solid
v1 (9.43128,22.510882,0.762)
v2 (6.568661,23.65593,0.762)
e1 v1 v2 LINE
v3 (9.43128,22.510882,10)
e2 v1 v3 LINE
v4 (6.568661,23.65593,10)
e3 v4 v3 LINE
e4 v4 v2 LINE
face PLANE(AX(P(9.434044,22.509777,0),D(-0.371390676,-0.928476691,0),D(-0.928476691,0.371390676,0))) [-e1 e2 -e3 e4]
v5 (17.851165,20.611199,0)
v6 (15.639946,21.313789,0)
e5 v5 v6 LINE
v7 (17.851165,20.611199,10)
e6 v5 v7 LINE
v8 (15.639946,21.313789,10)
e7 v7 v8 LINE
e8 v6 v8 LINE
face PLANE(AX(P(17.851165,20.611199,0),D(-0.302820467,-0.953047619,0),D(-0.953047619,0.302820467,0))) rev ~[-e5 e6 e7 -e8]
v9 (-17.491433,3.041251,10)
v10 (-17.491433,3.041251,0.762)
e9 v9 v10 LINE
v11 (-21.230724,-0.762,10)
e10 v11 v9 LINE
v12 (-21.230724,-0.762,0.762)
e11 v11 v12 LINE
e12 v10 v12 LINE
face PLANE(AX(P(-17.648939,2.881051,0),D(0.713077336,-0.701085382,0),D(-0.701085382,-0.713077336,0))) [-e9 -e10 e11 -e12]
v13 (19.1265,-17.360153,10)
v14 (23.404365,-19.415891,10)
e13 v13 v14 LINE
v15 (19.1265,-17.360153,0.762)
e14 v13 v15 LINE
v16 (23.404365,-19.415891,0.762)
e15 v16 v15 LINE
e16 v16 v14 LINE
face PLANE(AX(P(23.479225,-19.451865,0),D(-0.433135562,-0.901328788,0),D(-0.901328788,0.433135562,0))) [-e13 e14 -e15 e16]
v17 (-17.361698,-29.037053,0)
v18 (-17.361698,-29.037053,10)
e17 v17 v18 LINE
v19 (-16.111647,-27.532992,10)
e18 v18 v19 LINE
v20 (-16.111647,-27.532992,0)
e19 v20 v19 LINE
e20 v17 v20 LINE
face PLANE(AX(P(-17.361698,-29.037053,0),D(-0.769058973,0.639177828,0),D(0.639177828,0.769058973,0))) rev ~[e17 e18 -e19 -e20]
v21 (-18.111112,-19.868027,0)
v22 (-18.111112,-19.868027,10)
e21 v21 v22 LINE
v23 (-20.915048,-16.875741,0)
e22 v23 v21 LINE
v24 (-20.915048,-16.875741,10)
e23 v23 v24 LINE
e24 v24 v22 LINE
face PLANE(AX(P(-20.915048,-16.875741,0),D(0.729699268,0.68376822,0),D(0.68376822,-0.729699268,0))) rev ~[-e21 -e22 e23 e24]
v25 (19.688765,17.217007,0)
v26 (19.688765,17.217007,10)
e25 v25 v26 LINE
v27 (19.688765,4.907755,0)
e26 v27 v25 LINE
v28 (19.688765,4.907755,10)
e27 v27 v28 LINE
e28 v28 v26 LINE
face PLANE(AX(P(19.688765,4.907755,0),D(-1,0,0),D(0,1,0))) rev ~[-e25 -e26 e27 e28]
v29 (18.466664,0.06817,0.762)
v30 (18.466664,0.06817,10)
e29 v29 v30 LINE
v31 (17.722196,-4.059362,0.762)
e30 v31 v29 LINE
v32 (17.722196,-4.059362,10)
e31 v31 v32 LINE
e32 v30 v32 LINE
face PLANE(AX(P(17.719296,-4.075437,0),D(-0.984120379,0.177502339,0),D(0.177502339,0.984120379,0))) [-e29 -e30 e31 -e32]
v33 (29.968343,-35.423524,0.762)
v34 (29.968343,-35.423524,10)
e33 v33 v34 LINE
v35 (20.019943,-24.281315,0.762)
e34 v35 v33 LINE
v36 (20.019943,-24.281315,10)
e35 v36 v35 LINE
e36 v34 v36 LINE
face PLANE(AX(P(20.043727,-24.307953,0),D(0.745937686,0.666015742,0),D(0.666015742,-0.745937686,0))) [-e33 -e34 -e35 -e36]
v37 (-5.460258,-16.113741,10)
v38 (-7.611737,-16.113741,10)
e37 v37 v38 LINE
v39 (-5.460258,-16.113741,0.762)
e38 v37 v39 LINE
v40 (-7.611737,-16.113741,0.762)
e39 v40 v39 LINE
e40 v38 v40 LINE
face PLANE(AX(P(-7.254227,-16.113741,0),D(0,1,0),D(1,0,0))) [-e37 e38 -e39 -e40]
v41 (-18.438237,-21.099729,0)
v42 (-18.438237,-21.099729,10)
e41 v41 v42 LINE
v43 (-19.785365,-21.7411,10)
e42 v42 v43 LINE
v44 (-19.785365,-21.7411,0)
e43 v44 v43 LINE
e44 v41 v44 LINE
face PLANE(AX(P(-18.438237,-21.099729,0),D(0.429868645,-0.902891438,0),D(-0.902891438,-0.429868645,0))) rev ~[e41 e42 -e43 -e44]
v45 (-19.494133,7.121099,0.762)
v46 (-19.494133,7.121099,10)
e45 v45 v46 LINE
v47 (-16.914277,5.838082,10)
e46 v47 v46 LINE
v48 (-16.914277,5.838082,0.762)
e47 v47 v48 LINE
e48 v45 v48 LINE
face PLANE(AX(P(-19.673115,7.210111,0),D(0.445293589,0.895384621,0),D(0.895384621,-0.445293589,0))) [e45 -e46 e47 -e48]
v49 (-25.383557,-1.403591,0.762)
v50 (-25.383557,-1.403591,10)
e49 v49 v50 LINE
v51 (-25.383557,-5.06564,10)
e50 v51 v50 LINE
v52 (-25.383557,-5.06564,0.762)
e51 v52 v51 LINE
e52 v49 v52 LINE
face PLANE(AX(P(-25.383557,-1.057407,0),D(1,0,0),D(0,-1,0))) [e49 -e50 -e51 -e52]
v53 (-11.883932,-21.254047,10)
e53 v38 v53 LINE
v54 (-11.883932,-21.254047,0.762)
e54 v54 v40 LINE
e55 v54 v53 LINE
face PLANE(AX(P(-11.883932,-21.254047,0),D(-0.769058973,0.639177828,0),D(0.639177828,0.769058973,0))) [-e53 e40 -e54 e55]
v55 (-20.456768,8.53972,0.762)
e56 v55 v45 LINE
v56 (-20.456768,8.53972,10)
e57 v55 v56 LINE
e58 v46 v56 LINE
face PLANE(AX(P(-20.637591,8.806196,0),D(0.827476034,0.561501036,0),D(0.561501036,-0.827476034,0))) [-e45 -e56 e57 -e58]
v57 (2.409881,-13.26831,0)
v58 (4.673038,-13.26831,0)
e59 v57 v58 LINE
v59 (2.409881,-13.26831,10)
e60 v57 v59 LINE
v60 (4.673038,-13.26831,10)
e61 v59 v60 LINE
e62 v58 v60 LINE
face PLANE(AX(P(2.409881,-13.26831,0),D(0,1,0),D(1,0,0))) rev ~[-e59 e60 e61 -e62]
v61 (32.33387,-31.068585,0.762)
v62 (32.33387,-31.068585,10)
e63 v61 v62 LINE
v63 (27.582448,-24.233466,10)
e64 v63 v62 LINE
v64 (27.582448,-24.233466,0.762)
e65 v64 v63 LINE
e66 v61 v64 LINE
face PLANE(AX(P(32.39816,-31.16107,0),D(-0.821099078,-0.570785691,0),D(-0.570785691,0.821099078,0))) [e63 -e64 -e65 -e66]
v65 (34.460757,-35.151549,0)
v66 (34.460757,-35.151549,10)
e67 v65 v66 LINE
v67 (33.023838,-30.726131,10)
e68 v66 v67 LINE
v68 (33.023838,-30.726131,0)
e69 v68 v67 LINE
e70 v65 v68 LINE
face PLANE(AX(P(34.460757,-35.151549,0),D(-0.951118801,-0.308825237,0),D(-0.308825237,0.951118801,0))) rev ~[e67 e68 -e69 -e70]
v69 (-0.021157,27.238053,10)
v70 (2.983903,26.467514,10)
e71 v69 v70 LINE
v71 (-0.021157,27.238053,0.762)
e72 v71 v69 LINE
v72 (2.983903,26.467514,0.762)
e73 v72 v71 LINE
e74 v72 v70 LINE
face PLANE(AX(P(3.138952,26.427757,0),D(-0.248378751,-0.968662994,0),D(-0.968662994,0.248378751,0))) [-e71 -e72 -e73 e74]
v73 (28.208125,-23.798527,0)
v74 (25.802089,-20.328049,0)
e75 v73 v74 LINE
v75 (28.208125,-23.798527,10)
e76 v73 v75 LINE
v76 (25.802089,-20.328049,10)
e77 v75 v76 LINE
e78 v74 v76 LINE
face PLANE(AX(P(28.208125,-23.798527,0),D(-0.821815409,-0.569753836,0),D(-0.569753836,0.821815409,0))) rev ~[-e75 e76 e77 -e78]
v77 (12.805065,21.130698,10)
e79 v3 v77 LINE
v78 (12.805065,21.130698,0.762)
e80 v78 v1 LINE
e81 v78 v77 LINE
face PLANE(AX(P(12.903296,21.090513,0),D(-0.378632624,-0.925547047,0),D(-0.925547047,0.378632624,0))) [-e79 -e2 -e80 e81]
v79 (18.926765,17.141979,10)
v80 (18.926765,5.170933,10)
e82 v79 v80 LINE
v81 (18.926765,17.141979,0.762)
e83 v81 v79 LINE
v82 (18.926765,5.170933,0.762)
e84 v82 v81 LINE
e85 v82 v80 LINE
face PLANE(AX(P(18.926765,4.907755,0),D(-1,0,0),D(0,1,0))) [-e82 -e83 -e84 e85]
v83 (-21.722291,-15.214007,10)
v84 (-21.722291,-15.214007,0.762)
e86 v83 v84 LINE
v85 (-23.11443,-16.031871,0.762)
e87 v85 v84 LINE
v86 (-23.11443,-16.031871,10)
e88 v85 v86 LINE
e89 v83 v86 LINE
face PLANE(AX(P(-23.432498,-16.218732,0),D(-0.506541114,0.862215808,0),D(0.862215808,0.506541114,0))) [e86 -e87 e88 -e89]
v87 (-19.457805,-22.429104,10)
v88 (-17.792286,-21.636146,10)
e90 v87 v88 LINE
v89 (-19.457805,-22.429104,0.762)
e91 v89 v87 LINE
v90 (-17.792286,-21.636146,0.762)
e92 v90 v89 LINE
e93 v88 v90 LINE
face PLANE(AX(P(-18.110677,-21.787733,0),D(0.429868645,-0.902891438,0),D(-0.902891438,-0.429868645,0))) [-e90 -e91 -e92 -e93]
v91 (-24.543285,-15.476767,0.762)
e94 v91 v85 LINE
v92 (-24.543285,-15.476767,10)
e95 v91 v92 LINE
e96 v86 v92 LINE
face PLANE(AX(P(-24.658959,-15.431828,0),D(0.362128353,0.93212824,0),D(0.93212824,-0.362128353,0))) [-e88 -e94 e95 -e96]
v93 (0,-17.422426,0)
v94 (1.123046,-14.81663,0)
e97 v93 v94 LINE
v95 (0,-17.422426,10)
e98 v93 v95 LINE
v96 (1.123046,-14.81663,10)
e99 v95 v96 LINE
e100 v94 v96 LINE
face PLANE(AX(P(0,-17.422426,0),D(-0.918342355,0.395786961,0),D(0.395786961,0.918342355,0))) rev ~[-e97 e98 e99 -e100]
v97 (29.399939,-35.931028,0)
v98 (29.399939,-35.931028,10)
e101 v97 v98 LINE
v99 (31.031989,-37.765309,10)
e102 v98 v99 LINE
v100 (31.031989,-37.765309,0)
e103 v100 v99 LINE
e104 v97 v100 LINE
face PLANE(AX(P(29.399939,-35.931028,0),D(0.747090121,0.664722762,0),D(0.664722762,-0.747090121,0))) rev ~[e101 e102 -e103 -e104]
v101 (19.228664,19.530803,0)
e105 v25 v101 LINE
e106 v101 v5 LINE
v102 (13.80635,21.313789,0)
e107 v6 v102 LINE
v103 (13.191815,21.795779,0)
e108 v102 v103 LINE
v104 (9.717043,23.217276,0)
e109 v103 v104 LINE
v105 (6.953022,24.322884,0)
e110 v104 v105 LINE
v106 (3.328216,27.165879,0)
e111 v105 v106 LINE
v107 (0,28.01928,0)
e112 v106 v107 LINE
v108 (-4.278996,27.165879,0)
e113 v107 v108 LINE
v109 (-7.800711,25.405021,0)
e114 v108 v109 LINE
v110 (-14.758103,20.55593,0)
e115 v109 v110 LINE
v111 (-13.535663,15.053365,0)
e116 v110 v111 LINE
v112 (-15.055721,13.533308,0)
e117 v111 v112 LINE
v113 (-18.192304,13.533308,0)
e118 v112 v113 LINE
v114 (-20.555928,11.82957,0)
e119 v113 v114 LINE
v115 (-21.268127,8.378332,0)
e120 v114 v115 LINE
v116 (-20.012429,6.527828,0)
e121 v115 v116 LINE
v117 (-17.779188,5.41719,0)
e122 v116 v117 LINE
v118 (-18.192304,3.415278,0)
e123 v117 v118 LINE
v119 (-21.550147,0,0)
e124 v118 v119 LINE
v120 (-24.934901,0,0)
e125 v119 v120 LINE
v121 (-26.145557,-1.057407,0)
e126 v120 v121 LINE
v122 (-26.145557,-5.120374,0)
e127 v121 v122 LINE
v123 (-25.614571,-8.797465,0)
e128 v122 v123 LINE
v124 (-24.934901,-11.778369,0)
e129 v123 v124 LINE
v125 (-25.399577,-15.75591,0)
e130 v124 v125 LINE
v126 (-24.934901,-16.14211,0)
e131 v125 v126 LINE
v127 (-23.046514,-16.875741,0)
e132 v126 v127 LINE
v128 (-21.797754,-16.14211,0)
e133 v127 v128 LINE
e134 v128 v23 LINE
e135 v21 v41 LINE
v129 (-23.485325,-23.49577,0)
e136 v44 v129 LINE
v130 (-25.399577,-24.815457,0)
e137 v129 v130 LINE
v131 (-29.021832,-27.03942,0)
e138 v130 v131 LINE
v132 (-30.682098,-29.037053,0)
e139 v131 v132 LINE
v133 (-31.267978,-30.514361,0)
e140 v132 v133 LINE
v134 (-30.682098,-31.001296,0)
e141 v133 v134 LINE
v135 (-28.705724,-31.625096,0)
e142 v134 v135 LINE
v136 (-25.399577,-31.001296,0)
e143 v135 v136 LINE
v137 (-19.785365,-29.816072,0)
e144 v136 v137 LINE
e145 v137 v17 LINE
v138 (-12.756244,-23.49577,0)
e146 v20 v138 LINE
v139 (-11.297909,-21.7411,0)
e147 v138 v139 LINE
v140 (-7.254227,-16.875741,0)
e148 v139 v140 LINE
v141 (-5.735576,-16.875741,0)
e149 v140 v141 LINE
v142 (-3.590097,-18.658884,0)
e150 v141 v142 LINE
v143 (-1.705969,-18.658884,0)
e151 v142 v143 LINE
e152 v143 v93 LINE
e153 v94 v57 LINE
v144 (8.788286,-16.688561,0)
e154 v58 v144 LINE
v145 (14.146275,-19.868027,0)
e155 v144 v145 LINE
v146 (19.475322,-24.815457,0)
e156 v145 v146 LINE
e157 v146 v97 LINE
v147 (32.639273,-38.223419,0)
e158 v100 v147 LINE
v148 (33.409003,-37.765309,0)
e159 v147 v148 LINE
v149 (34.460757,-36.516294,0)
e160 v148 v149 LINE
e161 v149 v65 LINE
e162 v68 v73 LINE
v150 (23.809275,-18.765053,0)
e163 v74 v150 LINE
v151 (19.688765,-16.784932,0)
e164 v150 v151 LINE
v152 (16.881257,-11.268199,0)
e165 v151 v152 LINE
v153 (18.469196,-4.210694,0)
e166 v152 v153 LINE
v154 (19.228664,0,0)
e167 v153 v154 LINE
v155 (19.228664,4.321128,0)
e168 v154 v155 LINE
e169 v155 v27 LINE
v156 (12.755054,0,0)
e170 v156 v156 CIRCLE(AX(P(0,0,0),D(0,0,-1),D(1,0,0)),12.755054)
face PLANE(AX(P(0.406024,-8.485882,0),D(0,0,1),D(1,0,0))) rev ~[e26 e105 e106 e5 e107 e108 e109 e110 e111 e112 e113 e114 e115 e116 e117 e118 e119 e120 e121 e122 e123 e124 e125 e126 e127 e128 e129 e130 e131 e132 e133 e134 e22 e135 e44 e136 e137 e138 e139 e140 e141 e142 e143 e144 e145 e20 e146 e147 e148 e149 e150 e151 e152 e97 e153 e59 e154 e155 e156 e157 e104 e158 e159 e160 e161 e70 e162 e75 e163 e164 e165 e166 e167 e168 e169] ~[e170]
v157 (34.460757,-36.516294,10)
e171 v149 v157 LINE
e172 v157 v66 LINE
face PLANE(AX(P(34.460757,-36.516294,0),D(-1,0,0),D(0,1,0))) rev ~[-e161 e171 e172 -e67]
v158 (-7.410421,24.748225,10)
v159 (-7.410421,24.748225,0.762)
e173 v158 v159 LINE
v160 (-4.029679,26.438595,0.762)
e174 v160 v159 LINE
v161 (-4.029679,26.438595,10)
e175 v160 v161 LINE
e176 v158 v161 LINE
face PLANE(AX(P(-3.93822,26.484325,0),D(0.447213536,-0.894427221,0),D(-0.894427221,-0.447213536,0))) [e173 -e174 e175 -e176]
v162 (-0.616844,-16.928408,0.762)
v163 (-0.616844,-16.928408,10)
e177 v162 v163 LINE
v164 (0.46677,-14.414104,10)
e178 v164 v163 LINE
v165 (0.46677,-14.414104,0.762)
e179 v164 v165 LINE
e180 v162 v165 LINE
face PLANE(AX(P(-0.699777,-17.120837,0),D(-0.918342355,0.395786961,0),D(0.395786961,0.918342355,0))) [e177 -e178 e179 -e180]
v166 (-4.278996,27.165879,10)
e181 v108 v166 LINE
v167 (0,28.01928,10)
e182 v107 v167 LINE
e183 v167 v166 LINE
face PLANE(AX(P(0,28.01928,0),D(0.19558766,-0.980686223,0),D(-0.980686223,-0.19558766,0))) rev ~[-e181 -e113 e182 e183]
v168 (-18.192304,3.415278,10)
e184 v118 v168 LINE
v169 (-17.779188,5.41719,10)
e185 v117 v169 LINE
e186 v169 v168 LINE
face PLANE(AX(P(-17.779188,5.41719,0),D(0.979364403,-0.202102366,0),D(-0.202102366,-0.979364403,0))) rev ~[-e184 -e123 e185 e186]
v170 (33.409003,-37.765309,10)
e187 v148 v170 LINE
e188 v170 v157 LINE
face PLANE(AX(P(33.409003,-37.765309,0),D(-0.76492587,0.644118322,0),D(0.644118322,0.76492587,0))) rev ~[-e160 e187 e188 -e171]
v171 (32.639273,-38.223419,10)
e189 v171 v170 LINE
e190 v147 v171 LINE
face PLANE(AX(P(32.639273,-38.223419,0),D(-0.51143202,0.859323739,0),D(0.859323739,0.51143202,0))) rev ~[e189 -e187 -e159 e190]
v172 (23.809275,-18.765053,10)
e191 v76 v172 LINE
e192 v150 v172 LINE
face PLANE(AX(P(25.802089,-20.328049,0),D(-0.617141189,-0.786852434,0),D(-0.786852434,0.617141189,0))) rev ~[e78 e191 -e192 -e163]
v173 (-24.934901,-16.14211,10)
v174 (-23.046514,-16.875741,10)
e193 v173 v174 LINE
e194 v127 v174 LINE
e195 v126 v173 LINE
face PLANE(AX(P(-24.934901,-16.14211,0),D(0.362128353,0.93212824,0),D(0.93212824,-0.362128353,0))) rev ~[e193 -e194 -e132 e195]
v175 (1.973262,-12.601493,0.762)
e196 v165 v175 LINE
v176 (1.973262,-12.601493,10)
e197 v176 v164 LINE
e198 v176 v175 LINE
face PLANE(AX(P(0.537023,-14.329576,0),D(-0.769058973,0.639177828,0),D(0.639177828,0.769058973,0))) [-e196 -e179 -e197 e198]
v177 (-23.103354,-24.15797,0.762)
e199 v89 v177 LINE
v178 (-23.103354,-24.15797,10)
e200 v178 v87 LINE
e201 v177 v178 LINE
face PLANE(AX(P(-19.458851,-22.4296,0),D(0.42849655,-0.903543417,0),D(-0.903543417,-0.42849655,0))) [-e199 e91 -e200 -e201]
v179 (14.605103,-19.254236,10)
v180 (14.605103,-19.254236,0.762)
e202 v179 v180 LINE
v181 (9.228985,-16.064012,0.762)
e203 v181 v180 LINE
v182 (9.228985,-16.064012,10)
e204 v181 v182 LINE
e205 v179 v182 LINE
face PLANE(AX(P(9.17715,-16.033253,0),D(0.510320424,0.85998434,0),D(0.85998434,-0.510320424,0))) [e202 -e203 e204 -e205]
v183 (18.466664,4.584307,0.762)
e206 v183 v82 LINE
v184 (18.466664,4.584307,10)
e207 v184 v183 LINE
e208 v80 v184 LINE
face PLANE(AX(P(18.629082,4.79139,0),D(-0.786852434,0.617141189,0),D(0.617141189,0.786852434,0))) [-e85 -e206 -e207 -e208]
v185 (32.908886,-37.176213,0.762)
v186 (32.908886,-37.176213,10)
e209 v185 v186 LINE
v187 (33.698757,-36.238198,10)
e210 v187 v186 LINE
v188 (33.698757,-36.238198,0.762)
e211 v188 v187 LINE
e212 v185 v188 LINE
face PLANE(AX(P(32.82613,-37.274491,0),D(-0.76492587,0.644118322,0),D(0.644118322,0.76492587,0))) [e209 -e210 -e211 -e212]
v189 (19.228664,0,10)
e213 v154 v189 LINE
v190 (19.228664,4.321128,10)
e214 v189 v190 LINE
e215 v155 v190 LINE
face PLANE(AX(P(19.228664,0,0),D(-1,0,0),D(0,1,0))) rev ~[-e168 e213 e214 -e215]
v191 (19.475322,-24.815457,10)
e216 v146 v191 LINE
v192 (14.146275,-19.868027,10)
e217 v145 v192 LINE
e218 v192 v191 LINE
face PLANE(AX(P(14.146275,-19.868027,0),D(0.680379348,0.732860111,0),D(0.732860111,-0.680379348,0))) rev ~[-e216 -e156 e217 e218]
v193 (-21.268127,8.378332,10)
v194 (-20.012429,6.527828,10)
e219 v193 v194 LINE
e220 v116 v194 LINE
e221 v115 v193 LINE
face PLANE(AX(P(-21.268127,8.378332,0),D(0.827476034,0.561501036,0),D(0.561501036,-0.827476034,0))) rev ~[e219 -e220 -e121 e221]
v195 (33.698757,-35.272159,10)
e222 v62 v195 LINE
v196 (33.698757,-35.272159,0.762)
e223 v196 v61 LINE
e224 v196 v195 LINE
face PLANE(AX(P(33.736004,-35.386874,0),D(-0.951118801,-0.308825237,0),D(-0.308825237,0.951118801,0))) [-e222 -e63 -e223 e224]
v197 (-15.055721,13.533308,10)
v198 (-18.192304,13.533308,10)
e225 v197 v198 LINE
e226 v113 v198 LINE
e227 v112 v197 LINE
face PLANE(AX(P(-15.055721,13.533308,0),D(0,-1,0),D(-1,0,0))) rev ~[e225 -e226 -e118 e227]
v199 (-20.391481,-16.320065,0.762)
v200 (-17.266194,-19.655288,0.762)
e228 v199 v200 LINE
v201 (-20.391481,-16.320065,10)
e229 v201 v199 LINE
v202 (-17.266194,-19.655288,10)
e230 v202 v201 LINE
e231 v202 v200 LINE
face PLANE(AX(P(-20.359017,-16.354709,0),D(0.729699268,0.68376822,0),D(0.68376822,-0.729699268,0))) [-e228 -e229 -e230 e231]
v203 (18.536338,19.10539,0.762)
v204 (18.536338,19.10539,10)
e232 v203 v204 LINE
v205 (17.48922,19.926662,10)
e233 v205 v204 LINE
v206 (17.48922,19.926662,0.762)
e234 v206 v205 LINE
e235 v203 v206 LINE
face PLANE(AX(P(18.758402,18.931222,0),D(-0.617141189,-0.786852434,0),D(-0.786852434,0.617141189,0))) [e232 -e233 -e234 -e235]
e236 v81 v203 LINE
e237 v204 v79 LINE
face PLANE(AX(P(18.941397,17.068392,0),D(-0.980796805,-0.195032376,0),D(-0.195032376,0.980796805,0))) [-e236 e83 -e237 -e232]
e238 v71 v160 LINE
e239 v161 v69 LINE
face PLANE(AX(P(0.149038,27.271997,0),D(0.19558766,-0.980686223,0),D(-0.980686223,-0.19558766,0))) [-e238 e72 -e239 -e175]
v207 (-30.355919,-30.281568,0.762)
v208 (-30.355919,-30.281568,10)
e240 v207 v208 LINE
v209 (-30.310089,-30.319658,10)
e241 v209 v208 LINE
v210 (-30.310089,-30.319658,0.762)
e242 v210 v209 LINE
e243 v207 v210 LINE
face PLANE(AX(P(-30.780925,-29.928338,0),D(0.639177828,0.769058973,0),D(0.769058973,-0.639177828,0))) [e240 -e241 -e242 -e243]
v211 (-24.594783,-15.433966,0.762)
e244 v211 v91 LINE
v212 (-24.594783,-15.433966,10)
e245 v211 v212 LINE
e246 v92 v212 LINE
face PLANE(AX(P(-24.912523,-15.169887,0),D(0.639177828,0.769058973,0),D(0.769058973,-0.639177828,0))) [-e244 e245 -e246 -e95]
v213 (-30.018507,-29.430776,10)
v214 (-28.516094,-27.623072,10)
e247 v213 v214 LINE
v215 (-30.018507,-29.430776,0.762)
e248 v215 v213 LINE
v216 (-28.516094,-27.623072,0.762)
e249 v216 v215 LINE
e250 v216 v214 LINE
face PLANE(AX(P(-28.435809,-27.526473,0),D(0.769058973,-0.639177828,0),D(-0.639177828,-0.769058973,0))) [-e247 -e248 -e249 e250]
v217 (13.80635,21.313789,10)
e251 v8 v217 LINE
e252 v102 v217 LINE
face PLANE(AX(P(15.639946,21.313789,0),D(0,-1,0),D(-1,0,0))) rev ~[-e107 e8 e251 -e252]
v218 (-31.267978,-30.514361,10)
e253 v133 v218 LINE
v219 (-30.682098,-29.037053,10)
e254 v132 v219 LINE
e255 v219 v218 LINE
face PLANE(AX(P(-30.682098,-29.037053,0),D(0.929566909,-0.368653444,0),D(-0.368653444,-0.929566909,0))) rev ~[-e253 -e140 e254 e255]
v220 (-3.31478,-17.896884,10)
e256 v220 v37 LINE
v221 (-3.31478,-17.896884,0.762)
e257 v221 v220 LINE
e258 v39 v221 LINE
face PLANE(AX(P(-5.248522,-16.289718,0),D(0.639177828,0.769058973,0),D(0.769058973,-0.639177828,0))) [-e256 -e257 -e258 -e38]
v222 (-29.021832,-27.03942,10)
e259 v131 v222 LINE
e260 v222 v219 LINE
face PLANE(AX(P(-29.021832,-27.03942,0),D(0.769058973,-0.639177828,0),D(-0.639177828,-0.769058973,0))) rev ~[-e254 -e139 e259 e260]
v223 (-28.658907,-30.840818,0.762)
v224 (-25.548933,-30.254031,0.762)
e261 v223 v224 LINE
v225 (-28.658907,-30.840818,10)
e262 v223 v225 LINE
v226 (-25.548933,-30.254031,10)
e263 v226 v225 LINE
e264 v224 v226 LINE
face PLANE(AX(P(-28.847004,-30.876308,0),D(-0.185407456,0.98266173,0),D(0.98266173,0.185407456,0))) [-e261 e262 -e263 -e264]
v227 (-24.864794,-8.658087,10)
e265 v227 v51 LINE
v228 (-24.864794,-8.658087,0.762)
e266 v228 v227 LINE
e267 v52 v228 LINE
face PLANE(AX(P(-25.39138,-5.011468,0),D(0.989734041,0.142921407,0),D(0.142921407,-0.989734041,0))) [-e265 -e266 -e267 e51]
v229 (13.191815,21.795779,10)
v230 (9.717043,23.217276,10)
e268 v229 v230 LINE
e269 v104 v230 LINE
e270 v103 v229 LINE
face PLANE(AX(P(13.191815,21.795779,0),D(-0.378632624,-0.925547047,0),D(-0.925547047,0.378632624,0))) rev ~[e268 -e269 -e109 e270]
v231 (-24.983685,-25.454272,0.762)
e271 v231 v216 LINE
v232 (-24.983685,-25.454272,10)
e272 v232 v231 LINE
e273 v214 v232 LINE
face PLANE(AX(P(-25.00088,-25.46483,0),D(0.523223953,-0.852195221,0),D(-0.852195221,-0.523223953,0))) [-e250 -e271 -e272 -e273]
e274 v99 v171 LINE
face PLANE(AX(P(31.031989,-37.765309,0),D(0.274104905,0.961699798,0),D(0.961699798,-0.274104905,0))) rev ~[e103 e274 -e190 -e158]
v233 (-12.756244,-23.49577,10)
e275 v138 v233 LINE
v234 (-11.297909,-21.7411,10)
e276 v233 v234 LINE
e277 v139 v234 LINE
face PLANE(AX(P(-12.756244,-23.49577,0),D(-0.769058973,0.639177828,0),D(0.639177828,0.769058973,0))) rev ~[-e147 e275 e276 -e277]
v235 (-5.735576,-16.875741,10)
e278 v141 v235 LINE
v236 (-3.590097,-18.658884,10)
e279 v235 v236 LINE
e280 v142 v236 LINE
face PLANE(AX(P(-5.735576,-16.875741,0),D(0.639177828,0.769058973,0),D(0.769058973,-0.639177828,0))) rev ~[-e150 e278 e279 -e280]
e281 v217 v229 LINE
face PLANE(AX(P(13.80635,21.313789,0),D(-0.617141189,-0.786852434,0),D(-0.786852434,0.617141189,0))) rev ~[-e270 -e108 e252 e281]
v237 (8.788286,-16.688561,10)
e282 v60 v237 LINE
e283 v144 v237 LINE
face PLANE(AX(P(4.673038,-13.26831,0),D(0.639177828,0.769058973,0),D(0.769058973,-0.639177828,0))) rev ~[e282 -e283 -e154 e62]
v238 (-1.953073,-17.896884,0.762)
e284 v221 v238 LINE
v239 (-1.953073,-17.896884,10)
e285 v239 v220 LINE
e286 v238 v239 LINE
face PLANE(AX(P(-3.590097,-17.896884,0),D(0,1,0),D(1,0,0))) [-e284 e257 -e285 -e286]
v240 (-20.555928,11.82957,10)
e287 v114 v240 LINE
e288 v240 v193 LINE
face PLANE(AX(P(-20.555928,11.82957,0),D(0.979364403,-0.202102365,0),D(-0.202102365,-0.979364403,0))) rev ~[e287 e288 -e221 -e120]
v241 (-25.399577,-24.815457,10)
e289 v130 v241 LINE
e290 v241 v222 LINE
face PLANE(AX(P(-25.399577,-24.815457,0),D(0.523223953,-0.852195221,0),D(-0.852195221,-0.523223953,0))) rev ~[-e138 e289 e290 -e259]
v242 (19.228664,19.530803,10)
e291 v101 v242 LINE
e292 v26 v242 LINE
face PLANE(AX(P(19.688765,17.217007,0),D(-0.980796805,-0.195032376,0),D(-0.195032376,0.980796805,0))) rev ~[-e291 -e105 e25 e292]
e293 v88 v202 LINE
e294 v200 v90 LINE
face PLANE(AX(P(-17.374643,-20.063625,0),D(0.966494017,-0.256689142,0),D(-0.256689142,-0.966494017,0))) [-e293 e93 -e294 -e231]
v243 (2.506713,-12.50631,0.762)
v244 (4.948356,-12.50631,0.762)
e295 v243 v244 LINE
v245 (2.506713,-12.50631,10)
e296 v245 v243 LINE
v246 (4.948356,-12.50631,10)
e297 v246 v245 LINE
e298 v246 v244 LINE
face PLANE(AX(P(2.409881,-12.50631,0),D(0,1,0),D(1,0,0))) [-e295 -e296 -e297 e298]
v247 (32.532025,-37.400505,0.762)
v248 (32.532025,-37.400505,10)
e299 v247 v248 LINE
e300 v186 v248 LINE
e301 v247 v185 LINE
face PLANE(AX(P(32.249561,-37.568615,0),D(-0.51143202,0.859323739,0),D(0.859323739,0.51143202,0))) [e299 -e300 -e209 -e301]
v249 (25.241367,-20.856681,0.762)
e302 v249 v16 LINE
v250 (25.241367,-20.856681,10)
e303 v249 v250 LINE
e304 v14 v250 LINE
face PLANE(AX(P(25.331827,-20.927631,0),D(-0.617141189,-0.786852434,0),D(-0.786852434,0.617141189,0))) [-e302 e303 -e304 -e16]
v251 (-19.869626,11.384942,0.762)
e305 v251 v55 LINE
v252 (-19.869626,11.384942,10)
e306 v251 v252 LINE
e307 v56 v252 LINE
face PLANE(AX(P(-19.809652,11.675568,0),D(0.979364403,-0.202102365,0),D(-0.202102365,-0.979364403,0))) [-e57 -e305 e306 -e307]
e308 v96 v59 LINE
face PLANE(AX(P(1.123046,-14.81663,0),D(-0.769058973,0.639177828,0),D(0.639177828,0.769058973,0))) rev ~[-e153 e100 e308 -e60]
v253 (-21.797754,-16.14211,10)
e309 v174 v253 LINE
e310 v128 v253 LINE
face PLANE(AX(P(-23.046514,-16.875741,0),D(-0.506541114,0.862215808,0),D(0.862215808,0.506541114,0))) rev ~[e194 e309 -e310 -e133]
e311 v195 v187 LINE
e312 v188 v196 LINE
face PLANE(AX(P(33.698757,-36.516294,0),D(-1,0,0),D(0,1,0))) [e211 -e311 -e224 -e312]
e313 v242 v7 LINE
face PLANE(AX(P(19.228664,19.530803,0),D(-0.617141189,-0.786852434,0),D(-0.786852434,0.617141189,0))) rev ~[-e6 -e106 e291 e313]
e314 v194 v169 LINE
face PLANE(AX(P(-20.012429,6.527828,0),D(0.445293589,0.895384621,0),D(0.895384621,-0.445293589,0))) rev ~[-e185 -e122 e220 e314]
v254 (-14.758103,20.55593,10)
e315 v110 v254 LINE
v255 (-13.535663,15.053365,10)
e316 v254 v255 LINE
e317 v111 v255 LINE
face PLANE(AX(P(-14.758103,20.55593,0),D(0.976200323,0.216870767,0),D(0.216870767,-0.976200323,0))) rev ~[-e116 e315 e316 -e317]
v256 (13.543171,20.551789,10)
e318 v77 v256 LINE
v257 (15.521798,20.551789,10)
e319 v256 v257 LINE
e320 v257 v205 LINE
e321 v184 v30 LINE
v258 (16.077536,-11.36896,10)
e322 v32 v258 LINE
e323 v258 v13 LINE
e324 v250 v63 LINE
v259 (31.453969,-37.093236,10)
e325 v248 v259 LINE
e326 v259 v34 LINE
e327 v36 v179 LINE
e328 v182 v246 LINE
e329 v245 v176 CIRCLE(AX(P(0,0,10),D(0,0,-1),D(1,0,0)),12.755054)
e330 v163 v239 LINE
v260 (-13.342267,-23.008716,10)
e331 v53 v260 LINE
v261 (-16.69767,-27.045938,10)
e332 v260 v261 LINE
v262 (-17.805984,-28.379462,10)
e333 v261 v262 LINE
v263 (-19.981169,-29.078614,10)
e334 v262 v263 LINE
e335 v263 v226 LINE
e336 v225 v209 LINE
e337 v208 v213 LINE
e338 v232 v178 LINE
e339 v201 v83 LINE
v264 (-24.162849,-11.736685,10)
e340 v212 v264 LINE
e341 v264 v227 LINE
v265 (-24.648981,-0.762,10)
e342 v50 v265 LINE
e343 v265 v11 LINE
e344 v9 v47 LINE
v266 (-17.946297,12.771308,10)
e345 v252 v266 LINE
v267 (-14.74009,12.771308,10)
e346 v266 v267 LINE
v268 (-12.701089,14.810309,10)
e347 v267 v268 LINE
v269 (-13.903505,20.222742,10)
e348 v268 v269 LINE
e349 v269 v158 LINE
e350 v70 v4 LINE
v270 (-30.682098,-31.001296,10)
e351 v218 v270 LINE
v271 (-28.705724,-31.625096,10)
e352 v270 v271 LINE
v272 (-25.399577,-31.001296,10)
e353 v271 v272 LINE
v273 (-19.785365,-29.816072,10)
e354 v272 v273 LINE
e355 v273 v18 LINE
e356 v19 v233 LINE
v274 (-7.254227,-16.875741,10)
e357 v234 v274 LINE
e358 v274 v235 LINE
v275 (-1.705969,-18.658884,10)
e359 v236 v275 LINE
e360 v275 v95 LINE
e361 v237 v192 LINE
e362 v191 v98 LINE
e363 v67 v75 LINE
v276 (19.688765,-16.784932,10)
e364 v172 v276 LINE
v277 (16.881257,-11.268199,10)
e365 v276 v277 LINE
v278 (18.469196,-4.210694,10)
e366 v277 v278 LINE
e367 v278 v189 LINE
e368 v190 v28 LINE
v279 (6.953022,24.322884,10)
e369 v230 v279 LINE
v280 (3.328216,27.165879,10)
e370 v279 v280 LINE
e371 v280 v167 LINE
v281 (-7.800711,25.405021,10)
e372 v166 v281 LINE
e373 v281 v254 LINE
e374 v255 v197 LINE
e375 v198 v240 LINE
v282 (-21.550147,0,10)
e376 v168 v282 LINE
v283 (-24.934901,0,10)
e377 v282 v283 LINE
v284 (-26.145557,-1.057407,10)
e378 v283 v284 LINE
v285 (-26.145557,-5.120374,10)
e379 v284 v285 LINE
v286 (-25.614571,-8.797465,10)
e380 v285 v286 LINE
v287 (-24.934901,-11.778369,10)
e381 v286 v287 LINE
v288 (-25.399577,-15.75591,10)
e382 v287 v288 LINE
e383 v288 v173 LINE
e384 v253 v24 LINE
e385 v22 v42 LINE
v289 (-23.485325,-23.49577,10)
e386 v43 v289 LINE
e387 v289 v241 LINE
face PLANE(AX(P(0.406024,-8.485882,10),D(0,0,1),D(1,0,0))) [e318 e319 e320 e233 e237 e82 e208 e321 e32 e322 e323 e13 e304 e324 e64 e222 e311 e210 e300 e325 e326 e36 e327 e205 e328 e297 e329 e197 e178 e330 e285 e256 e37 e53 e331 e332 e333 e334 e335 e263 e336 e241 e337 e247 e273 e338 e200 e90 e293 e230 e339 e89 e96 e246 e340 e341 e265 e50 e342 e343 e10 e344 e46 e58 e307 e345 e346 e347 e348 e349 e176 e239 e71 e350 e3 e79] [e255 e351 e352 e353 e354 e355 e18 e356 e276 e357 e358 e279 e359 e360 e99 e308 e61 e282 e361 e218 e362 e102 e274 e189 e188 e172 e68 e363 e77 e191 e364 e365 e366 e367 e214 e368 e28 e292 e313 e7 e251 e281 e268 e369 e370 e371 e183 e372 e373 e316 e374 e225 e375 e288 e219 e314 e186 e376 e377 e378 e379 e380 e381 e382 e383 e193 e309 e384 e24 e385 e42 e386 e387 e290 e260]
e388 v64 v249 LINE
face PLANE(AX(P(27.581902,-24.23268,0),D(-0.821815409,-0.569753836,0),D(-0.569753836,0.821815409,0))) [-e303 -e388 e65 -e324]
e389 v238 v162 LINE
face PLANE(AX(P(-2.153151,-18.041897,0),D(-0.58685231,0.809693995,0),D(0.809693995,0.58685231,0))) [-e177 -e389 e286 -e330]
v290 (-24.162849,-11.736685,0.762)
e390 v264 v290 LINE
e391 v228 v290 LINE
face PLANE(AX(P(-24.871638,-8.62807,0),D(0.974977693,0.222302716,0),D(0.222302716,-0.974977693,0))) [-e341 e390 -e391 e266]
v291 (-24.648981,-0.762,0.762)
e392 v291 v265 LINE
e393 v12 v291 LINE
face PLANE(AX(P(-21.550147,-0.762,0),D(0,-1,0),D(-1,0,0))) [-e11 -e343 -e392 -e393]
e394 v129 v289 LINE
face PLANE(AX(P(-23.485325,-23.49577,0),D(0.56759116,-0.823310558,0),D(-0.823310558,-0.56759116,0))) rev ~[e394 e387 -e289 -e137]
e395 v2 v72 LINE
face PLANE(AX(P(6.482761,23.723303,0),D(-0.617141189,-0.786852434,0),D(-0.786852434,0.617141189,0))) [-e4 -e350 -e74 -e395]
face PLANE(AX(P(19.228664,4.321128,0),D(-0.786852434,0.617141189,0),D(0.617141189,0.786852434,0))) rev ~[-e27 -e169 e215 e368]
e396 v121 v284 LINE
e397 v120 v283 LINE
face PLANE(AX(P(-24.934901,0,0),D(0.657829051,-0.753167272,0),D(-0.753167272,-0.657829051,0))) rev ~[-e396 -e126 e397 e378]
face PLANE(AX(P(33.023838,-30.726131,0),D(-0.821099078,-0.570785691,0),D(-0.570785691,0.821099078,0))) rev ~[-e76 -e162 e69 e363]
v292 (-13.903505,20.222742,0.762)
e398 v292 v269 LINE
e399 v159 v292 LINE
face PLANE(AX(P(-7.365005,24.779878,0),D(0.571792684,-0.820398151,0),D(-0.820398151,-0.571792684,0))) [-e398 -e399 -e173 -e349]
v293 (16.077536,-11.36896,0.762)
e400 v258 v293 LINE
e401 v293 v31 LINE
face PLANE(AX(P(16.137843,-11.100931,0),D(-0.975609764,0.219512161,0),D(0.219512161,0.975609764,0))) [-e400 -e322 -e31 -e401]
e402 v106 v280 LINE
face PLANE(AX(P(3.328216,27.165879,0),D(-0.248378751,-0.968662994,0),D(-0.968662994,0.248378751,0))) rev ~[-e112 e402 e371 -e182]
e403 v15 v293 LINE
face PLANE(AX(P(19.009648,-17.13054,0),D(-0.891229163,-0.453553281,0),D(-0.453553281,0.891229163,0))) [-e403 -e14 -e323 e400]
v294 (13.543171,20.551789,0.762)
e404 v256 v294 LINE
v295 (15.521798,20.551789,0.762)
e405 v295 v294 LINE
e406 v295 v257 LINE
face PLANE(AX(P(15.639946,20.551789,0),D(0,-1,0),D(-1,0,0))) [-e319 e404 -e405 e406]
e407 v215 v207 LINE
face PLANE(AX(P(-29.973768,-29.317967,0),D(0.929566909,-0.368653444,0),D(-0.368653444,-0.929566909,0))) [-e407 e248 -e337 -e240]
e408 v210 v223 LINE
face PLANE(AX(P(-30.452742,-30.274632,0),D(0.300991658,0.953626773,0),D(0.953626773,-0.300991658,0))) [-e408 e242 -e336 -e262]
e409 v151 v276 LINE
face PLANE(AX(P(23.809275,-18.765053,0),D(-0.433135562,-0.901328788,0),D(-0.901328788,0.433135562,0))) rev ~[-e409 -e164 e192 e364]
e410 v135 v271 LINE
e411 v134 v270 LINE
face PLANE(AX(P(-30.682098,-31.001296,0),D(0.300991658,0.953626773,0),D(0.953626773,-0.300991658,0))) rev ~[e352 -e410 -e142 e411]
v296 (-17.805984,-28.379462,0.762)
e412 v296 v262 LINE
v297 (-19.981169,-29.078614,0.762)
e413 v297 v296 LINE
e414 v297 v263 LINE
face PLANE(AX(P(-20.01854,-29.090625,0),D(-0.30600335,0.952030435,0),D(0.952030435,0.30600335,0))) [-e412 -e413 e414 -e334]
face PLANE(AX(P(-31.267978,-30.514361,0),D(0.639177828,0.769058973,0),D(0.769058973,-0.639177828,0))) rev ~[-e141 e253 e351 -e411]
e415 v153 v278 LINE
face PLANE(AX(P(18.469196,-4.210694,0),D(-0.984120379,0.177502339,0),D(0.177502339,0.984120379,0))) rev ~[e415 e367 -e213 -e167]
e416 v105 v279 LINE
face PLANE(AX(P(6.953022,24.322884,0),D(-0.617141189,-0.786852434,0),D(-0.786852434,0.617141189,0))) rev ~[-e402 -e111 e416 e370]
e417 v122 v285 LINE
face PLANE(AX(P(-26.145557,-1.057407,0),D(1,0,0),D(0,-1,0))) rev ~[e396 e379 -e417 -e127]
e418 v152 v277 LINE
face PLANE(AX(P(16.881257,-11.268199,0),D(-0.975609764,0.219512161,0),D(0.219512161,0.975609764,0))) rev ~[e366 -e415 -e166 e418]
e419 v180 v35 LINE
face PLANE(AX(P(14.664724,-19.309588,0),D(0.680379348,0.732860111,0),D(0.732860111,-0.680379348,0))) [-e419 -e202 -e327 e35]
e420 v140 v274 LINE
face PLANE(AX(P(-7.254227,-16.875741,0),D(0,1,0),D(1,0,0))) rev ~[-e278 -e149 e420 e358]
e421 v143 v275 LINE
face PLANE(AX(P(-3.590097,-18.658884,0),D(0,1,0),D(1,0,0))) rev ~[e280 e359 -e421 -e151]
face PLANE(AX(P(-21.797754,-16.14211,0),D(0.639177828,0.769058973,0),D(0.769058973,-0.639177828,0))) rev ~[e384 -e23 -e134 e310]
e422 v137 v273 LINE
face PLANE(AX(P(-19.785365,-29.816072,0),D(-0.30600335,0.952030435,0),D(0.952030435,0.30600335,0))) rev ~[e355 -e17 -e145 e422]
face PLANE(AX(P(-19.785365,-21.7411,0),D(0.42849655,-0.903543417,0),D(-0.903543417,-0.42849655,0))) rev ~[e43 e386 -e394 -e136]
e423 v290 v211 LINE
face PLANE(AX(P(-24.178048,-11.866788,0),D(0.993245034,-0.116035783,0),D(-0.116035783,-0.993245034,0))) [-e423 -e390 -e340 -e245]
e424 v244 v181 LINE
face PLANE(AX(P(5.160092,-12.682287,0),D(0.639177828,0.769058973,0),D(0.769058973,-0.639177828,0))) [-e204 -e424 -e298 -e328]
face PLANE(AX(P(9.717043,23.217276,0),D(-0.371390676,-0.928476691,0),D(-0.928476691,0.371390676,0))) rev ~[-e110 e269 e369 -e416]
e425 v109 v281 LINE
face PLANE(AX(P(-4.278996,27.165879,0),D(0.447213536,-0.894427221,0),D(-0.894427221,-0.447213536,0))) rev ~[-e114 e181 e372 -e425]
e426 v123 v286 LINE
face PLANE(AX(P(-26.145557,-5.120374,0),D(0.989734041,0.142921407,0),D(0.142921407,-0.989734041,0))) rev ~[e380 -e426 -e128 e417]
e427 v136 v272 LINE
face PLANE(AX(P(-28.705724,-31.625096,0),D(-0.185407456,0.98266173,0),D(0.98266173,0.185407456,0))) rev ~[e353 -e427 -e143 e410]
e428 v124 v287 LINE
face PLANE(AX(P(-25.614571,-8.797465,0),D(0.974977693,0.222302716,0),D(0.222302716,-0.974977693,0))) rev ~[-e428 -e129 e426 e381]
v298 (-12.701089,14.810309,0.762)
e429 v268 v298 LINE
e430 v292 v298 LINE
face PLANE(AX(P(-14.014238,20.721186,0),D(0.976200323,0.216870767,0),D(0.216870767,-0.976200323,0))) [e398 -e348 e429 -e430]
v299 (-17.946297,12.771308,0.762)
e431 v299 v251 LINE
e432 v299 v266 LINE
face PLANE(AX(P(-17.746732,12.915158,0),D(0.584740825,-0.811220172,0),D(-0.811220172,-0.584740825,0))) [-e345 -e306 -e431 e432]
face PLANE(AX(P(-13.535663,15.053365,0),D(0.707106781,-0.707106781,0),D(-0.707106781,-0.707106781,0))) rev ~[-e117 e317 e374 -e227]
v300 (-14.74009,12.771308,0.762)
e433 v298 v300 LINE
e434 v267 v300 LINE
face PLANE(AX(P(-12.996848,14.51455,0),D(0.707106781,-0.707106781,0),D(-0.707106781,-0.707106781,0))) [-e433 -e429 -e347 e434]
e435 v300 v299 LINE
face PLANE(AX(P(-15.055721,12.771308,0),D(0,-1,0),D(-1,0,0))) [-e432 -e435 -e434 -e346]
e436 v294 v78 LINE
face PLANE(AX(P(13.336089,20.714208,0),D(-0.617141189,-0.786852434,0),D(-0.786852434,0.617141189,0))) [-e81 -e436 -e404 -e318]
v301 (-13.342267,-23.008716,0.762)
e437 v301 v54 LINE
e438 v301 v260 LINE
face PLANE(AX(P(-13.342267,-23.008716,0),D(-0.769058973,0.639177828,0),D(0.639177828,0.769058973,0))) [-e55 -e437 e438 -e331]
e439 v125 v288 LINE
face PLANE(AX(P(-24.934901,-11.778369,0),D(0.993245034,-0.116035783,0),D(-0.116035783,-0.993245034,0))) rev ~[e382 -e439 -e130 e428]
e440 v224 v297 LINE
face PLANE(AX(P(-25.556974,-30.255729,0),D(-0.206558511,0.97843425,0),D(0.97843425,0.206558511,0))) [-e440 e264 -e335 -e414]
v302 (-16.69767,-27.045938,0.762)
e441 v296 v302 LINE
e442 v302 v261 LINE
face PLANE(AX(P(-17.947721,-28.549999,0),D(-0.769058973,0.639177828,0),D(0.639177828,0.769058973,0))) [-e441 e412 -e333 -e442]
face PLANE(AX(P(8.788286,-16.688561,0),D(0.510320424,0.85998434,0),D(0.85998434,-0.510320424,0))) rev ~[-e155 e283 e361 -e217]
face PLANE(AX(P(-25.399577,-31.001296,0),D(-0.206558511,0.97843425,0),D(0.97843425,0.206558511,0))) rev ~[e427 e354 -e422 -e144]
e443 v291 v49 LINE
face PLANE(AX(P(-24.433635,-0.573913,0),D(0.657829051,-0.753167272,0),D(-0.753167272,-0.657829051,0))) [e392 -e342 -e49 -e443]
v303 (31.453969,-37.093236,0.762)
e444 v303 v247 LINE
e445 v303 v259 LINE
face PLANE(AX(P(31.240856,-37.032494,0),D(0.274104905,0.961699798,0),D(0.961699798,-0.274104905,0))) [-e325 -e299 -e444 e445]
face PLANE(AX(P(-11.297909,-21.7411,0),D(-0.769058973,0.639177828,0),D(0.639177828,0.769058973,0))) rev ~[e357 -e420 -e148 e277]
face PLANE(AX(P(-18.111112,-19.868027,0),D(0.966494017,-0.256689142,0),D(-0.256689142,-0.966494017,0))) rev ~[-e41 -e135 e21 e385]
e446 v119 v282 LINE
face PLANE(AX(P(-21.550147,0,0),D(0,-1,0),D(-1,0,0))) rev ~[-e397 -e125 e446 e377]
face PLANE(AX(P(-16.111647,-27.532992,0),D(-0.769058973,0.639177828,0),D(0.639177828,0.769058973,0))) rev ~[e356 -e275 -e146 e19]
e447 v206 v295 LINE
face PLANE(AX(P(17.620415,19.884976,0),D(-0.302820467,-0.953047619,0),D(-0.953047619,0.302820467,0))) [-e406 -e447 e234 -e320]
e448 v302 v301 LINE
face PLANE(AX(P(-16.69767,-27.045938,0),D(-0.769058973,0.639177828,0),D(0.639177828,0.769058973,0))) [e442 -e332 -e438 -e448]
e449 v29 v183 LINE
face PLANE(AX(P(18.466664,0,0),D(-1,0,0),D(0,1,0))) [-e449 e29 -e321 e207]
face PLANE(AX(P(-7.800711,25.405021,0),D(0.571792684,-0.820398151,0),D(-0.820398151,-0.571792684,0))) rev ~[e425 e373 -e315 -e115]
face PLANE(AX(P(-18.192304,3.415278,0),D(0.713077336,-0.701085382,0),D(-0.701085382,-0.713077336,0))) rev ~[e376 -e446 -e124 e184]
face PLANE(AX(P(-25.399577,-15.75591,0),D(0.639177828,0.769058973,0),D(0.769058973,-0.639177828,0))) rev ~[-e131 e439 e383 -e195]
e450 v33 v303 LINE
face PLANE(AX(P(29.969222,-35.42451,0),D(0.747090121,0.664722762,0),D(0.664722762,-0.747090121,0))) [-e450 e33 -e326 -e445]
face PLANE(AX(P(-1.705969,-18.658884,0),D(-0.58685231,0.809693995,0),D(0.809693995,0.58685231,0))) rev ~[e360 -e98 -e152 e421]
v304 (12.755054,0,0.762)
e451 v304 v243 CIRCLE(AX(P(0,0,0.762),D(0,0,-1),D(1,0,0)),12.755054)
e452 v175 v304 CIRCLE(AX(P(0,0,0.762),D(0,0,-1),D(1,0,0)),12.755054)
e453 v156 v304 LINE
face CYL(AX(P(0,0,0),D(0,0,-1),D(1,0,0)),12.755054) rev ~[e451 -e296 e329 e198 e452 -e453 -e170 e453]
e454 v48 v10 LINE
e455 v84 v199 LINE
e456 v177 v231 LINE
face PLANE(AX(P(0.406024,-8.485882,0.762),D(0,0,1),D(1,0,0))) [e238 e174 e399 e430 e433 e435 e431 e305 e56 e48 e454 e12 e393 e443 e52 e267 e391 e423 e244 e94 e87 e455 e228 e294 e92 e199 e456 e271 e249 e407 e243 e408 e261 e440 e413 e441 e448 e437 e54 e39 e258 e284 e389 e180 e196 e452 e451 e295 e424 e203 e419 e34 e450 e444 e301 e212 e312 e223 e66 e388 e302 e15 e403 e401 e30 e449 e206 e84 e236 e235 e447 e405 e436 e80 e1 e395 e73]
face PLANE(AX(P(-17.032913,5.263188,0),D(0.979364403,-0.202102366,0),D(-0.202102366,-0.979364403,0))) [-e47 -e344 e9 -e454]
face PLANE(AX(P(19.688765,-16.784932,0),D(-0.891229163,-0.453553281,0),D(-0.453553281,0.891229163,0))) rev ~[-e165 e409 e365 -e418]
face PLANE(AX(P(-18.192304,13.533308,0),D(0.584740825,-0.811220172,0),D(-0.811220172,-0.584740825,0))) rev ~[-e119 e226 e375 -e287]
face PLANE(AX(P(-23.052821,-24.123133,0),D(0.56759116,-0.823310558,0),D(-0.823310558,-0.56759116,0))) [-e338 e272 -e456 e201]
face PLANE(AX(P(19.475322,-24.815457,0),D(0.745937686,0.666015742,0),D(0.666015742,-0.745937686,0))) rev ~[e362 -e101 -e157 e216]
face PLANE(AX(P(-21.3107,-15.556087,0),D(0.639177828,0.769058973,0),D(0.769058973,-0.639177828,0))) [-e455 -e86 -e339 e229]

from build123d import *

# Parameters (mm, degrees)
F1_DEPTH = 10
F2_T     = -0.762
F3_R     = 12.7550536122
F4_DEPTH = 25.4


with BuildPart() as f1:
    # F0 (on Top) → F1 (new body)
    with BuildSketch(Plane.XY):
        Polygon((-7.8007113189, 25.4050213844), (-14.7581025958, 20.5559302121), (-13.5356634855, 15.0533653796), (-15.0557206944, 13.5333081707), (-18.1923042983, 13.5333081707), (-20.5559276198, 11.8295696557), (-21.2681274861, 8.3783324808), (-20.012428984, 6.527827587), (-17.7791882306, 5.4171900265), (-18.1923042983, 3.4152779263), (-21.5501468629, 0), (-24.9349009246, 0), (-26.1455569416, -1.0574074695), (-26.1455569416, -5.1203737967), (-25.6145708263, -8.7974648923), (-24.9349009246, -11.7783686146), (-25.3995768726, -15.7559095406), (-24.9349009246, -16.142109525), (-23.0465140194, -16.8757408121), (-21.7977536025, -16.142109525), (-20.9150481969, -16.8757408121), (-18.1111115962, -19.8680274189), (-18.4382367879, -21.0997294635), (-19.7853650898, -21.7411002789), (-23.4853252769, -23.4957698894), (-25.3995768726, -24.8154569417), (-29.0218316621, -27.0394197407), (-30.6820981205, -29.0370528883), (-31.2679782274, -30.5143610979), (-30.6820981205, -31.0012958944), (-28.7057235837, -31.6250957549), (-25.3995768726, -31.0012958944), (-19.7853650898, -29.8160724342), (-17.3616977744, -29.0370528883), (-16.1116474631, -27.5329919434), (-12.7562444109, -23.4957698894), (-11.2979090287, -21.7411002789), (-7.2542270645, -16.8757408121), (-5.7355757302, -16.8757408121), (-3.5900974181, -18.6588838696), (-1.705969451, -18.6588838696), (0, -17.422426492), (1.1230455963, -14.8166298422), (2.4098805152, -13.2683096454), (4.6730381437, -13.2683096454), (8.788285777, -16.688561067), (14.146274887, -19.8680274189), (19.4753222167, -24.8154569417), (29.3999388814, -35.9310284257), (31.0319885612, -37.7653092146), (32.639272511, -38.2234193385), (33.4090031683, -37.7653092146), (34.4607569277, -36.5162938833), (34.4607569277, -35.1515486836), (33.0238379538, -30.7261310518), (28.2081253827, -23.798527196), (25.8020885247, -20.3280491786), (23.8092746586, -18.7650527805), (19.688764587, -16.7849324644), (16.8812572956, -11.2681994215), (18.4691958129, -4.2106937617), (19.228663871, 0), (19.228663871, 4.3211282282), (19.688764587, 4.9077547155), (19.688764587, 10.1767061278), (19.688764587, 14.4955459982), (19.688764587, 17.2170065343), (19.228663871, 19.5308034597), (17.8511645645, 20.611198619), (15.6399458647, 21.313789199), (13.8063501083, 21.313789199), (13.1918145344, 21.7957794666), (9.7170434892, 23.2172757387), (6.9530224428, 24.3228841573), (3.3282164725, 27.1658785641), (0, 28.019279857), (-4.2789963759, 27.1658785641), align=None)
    extrude(amount=F1_DEPTH)

    # F2
    f2_openings = [f1.faces().sort_by_distance(p)[0] for p in [
        (-0.450246, -1.925405, 10),
    ]]
    offset(amount=F2_T, openings=f2_openings, kind=Kind.INTERSECTION)

    # F3 (on face) → F4 (cut)
    with BuildSketch(Plane(origin=(0, 0, 0), x_dir=(1, 0, 0), z_dir=(0, 0, -1))):
        Circle(F3_R)
    extrude(amount=-F4_DEPTH, mode=Mode.SUBTRACT)


solid = f1.part
